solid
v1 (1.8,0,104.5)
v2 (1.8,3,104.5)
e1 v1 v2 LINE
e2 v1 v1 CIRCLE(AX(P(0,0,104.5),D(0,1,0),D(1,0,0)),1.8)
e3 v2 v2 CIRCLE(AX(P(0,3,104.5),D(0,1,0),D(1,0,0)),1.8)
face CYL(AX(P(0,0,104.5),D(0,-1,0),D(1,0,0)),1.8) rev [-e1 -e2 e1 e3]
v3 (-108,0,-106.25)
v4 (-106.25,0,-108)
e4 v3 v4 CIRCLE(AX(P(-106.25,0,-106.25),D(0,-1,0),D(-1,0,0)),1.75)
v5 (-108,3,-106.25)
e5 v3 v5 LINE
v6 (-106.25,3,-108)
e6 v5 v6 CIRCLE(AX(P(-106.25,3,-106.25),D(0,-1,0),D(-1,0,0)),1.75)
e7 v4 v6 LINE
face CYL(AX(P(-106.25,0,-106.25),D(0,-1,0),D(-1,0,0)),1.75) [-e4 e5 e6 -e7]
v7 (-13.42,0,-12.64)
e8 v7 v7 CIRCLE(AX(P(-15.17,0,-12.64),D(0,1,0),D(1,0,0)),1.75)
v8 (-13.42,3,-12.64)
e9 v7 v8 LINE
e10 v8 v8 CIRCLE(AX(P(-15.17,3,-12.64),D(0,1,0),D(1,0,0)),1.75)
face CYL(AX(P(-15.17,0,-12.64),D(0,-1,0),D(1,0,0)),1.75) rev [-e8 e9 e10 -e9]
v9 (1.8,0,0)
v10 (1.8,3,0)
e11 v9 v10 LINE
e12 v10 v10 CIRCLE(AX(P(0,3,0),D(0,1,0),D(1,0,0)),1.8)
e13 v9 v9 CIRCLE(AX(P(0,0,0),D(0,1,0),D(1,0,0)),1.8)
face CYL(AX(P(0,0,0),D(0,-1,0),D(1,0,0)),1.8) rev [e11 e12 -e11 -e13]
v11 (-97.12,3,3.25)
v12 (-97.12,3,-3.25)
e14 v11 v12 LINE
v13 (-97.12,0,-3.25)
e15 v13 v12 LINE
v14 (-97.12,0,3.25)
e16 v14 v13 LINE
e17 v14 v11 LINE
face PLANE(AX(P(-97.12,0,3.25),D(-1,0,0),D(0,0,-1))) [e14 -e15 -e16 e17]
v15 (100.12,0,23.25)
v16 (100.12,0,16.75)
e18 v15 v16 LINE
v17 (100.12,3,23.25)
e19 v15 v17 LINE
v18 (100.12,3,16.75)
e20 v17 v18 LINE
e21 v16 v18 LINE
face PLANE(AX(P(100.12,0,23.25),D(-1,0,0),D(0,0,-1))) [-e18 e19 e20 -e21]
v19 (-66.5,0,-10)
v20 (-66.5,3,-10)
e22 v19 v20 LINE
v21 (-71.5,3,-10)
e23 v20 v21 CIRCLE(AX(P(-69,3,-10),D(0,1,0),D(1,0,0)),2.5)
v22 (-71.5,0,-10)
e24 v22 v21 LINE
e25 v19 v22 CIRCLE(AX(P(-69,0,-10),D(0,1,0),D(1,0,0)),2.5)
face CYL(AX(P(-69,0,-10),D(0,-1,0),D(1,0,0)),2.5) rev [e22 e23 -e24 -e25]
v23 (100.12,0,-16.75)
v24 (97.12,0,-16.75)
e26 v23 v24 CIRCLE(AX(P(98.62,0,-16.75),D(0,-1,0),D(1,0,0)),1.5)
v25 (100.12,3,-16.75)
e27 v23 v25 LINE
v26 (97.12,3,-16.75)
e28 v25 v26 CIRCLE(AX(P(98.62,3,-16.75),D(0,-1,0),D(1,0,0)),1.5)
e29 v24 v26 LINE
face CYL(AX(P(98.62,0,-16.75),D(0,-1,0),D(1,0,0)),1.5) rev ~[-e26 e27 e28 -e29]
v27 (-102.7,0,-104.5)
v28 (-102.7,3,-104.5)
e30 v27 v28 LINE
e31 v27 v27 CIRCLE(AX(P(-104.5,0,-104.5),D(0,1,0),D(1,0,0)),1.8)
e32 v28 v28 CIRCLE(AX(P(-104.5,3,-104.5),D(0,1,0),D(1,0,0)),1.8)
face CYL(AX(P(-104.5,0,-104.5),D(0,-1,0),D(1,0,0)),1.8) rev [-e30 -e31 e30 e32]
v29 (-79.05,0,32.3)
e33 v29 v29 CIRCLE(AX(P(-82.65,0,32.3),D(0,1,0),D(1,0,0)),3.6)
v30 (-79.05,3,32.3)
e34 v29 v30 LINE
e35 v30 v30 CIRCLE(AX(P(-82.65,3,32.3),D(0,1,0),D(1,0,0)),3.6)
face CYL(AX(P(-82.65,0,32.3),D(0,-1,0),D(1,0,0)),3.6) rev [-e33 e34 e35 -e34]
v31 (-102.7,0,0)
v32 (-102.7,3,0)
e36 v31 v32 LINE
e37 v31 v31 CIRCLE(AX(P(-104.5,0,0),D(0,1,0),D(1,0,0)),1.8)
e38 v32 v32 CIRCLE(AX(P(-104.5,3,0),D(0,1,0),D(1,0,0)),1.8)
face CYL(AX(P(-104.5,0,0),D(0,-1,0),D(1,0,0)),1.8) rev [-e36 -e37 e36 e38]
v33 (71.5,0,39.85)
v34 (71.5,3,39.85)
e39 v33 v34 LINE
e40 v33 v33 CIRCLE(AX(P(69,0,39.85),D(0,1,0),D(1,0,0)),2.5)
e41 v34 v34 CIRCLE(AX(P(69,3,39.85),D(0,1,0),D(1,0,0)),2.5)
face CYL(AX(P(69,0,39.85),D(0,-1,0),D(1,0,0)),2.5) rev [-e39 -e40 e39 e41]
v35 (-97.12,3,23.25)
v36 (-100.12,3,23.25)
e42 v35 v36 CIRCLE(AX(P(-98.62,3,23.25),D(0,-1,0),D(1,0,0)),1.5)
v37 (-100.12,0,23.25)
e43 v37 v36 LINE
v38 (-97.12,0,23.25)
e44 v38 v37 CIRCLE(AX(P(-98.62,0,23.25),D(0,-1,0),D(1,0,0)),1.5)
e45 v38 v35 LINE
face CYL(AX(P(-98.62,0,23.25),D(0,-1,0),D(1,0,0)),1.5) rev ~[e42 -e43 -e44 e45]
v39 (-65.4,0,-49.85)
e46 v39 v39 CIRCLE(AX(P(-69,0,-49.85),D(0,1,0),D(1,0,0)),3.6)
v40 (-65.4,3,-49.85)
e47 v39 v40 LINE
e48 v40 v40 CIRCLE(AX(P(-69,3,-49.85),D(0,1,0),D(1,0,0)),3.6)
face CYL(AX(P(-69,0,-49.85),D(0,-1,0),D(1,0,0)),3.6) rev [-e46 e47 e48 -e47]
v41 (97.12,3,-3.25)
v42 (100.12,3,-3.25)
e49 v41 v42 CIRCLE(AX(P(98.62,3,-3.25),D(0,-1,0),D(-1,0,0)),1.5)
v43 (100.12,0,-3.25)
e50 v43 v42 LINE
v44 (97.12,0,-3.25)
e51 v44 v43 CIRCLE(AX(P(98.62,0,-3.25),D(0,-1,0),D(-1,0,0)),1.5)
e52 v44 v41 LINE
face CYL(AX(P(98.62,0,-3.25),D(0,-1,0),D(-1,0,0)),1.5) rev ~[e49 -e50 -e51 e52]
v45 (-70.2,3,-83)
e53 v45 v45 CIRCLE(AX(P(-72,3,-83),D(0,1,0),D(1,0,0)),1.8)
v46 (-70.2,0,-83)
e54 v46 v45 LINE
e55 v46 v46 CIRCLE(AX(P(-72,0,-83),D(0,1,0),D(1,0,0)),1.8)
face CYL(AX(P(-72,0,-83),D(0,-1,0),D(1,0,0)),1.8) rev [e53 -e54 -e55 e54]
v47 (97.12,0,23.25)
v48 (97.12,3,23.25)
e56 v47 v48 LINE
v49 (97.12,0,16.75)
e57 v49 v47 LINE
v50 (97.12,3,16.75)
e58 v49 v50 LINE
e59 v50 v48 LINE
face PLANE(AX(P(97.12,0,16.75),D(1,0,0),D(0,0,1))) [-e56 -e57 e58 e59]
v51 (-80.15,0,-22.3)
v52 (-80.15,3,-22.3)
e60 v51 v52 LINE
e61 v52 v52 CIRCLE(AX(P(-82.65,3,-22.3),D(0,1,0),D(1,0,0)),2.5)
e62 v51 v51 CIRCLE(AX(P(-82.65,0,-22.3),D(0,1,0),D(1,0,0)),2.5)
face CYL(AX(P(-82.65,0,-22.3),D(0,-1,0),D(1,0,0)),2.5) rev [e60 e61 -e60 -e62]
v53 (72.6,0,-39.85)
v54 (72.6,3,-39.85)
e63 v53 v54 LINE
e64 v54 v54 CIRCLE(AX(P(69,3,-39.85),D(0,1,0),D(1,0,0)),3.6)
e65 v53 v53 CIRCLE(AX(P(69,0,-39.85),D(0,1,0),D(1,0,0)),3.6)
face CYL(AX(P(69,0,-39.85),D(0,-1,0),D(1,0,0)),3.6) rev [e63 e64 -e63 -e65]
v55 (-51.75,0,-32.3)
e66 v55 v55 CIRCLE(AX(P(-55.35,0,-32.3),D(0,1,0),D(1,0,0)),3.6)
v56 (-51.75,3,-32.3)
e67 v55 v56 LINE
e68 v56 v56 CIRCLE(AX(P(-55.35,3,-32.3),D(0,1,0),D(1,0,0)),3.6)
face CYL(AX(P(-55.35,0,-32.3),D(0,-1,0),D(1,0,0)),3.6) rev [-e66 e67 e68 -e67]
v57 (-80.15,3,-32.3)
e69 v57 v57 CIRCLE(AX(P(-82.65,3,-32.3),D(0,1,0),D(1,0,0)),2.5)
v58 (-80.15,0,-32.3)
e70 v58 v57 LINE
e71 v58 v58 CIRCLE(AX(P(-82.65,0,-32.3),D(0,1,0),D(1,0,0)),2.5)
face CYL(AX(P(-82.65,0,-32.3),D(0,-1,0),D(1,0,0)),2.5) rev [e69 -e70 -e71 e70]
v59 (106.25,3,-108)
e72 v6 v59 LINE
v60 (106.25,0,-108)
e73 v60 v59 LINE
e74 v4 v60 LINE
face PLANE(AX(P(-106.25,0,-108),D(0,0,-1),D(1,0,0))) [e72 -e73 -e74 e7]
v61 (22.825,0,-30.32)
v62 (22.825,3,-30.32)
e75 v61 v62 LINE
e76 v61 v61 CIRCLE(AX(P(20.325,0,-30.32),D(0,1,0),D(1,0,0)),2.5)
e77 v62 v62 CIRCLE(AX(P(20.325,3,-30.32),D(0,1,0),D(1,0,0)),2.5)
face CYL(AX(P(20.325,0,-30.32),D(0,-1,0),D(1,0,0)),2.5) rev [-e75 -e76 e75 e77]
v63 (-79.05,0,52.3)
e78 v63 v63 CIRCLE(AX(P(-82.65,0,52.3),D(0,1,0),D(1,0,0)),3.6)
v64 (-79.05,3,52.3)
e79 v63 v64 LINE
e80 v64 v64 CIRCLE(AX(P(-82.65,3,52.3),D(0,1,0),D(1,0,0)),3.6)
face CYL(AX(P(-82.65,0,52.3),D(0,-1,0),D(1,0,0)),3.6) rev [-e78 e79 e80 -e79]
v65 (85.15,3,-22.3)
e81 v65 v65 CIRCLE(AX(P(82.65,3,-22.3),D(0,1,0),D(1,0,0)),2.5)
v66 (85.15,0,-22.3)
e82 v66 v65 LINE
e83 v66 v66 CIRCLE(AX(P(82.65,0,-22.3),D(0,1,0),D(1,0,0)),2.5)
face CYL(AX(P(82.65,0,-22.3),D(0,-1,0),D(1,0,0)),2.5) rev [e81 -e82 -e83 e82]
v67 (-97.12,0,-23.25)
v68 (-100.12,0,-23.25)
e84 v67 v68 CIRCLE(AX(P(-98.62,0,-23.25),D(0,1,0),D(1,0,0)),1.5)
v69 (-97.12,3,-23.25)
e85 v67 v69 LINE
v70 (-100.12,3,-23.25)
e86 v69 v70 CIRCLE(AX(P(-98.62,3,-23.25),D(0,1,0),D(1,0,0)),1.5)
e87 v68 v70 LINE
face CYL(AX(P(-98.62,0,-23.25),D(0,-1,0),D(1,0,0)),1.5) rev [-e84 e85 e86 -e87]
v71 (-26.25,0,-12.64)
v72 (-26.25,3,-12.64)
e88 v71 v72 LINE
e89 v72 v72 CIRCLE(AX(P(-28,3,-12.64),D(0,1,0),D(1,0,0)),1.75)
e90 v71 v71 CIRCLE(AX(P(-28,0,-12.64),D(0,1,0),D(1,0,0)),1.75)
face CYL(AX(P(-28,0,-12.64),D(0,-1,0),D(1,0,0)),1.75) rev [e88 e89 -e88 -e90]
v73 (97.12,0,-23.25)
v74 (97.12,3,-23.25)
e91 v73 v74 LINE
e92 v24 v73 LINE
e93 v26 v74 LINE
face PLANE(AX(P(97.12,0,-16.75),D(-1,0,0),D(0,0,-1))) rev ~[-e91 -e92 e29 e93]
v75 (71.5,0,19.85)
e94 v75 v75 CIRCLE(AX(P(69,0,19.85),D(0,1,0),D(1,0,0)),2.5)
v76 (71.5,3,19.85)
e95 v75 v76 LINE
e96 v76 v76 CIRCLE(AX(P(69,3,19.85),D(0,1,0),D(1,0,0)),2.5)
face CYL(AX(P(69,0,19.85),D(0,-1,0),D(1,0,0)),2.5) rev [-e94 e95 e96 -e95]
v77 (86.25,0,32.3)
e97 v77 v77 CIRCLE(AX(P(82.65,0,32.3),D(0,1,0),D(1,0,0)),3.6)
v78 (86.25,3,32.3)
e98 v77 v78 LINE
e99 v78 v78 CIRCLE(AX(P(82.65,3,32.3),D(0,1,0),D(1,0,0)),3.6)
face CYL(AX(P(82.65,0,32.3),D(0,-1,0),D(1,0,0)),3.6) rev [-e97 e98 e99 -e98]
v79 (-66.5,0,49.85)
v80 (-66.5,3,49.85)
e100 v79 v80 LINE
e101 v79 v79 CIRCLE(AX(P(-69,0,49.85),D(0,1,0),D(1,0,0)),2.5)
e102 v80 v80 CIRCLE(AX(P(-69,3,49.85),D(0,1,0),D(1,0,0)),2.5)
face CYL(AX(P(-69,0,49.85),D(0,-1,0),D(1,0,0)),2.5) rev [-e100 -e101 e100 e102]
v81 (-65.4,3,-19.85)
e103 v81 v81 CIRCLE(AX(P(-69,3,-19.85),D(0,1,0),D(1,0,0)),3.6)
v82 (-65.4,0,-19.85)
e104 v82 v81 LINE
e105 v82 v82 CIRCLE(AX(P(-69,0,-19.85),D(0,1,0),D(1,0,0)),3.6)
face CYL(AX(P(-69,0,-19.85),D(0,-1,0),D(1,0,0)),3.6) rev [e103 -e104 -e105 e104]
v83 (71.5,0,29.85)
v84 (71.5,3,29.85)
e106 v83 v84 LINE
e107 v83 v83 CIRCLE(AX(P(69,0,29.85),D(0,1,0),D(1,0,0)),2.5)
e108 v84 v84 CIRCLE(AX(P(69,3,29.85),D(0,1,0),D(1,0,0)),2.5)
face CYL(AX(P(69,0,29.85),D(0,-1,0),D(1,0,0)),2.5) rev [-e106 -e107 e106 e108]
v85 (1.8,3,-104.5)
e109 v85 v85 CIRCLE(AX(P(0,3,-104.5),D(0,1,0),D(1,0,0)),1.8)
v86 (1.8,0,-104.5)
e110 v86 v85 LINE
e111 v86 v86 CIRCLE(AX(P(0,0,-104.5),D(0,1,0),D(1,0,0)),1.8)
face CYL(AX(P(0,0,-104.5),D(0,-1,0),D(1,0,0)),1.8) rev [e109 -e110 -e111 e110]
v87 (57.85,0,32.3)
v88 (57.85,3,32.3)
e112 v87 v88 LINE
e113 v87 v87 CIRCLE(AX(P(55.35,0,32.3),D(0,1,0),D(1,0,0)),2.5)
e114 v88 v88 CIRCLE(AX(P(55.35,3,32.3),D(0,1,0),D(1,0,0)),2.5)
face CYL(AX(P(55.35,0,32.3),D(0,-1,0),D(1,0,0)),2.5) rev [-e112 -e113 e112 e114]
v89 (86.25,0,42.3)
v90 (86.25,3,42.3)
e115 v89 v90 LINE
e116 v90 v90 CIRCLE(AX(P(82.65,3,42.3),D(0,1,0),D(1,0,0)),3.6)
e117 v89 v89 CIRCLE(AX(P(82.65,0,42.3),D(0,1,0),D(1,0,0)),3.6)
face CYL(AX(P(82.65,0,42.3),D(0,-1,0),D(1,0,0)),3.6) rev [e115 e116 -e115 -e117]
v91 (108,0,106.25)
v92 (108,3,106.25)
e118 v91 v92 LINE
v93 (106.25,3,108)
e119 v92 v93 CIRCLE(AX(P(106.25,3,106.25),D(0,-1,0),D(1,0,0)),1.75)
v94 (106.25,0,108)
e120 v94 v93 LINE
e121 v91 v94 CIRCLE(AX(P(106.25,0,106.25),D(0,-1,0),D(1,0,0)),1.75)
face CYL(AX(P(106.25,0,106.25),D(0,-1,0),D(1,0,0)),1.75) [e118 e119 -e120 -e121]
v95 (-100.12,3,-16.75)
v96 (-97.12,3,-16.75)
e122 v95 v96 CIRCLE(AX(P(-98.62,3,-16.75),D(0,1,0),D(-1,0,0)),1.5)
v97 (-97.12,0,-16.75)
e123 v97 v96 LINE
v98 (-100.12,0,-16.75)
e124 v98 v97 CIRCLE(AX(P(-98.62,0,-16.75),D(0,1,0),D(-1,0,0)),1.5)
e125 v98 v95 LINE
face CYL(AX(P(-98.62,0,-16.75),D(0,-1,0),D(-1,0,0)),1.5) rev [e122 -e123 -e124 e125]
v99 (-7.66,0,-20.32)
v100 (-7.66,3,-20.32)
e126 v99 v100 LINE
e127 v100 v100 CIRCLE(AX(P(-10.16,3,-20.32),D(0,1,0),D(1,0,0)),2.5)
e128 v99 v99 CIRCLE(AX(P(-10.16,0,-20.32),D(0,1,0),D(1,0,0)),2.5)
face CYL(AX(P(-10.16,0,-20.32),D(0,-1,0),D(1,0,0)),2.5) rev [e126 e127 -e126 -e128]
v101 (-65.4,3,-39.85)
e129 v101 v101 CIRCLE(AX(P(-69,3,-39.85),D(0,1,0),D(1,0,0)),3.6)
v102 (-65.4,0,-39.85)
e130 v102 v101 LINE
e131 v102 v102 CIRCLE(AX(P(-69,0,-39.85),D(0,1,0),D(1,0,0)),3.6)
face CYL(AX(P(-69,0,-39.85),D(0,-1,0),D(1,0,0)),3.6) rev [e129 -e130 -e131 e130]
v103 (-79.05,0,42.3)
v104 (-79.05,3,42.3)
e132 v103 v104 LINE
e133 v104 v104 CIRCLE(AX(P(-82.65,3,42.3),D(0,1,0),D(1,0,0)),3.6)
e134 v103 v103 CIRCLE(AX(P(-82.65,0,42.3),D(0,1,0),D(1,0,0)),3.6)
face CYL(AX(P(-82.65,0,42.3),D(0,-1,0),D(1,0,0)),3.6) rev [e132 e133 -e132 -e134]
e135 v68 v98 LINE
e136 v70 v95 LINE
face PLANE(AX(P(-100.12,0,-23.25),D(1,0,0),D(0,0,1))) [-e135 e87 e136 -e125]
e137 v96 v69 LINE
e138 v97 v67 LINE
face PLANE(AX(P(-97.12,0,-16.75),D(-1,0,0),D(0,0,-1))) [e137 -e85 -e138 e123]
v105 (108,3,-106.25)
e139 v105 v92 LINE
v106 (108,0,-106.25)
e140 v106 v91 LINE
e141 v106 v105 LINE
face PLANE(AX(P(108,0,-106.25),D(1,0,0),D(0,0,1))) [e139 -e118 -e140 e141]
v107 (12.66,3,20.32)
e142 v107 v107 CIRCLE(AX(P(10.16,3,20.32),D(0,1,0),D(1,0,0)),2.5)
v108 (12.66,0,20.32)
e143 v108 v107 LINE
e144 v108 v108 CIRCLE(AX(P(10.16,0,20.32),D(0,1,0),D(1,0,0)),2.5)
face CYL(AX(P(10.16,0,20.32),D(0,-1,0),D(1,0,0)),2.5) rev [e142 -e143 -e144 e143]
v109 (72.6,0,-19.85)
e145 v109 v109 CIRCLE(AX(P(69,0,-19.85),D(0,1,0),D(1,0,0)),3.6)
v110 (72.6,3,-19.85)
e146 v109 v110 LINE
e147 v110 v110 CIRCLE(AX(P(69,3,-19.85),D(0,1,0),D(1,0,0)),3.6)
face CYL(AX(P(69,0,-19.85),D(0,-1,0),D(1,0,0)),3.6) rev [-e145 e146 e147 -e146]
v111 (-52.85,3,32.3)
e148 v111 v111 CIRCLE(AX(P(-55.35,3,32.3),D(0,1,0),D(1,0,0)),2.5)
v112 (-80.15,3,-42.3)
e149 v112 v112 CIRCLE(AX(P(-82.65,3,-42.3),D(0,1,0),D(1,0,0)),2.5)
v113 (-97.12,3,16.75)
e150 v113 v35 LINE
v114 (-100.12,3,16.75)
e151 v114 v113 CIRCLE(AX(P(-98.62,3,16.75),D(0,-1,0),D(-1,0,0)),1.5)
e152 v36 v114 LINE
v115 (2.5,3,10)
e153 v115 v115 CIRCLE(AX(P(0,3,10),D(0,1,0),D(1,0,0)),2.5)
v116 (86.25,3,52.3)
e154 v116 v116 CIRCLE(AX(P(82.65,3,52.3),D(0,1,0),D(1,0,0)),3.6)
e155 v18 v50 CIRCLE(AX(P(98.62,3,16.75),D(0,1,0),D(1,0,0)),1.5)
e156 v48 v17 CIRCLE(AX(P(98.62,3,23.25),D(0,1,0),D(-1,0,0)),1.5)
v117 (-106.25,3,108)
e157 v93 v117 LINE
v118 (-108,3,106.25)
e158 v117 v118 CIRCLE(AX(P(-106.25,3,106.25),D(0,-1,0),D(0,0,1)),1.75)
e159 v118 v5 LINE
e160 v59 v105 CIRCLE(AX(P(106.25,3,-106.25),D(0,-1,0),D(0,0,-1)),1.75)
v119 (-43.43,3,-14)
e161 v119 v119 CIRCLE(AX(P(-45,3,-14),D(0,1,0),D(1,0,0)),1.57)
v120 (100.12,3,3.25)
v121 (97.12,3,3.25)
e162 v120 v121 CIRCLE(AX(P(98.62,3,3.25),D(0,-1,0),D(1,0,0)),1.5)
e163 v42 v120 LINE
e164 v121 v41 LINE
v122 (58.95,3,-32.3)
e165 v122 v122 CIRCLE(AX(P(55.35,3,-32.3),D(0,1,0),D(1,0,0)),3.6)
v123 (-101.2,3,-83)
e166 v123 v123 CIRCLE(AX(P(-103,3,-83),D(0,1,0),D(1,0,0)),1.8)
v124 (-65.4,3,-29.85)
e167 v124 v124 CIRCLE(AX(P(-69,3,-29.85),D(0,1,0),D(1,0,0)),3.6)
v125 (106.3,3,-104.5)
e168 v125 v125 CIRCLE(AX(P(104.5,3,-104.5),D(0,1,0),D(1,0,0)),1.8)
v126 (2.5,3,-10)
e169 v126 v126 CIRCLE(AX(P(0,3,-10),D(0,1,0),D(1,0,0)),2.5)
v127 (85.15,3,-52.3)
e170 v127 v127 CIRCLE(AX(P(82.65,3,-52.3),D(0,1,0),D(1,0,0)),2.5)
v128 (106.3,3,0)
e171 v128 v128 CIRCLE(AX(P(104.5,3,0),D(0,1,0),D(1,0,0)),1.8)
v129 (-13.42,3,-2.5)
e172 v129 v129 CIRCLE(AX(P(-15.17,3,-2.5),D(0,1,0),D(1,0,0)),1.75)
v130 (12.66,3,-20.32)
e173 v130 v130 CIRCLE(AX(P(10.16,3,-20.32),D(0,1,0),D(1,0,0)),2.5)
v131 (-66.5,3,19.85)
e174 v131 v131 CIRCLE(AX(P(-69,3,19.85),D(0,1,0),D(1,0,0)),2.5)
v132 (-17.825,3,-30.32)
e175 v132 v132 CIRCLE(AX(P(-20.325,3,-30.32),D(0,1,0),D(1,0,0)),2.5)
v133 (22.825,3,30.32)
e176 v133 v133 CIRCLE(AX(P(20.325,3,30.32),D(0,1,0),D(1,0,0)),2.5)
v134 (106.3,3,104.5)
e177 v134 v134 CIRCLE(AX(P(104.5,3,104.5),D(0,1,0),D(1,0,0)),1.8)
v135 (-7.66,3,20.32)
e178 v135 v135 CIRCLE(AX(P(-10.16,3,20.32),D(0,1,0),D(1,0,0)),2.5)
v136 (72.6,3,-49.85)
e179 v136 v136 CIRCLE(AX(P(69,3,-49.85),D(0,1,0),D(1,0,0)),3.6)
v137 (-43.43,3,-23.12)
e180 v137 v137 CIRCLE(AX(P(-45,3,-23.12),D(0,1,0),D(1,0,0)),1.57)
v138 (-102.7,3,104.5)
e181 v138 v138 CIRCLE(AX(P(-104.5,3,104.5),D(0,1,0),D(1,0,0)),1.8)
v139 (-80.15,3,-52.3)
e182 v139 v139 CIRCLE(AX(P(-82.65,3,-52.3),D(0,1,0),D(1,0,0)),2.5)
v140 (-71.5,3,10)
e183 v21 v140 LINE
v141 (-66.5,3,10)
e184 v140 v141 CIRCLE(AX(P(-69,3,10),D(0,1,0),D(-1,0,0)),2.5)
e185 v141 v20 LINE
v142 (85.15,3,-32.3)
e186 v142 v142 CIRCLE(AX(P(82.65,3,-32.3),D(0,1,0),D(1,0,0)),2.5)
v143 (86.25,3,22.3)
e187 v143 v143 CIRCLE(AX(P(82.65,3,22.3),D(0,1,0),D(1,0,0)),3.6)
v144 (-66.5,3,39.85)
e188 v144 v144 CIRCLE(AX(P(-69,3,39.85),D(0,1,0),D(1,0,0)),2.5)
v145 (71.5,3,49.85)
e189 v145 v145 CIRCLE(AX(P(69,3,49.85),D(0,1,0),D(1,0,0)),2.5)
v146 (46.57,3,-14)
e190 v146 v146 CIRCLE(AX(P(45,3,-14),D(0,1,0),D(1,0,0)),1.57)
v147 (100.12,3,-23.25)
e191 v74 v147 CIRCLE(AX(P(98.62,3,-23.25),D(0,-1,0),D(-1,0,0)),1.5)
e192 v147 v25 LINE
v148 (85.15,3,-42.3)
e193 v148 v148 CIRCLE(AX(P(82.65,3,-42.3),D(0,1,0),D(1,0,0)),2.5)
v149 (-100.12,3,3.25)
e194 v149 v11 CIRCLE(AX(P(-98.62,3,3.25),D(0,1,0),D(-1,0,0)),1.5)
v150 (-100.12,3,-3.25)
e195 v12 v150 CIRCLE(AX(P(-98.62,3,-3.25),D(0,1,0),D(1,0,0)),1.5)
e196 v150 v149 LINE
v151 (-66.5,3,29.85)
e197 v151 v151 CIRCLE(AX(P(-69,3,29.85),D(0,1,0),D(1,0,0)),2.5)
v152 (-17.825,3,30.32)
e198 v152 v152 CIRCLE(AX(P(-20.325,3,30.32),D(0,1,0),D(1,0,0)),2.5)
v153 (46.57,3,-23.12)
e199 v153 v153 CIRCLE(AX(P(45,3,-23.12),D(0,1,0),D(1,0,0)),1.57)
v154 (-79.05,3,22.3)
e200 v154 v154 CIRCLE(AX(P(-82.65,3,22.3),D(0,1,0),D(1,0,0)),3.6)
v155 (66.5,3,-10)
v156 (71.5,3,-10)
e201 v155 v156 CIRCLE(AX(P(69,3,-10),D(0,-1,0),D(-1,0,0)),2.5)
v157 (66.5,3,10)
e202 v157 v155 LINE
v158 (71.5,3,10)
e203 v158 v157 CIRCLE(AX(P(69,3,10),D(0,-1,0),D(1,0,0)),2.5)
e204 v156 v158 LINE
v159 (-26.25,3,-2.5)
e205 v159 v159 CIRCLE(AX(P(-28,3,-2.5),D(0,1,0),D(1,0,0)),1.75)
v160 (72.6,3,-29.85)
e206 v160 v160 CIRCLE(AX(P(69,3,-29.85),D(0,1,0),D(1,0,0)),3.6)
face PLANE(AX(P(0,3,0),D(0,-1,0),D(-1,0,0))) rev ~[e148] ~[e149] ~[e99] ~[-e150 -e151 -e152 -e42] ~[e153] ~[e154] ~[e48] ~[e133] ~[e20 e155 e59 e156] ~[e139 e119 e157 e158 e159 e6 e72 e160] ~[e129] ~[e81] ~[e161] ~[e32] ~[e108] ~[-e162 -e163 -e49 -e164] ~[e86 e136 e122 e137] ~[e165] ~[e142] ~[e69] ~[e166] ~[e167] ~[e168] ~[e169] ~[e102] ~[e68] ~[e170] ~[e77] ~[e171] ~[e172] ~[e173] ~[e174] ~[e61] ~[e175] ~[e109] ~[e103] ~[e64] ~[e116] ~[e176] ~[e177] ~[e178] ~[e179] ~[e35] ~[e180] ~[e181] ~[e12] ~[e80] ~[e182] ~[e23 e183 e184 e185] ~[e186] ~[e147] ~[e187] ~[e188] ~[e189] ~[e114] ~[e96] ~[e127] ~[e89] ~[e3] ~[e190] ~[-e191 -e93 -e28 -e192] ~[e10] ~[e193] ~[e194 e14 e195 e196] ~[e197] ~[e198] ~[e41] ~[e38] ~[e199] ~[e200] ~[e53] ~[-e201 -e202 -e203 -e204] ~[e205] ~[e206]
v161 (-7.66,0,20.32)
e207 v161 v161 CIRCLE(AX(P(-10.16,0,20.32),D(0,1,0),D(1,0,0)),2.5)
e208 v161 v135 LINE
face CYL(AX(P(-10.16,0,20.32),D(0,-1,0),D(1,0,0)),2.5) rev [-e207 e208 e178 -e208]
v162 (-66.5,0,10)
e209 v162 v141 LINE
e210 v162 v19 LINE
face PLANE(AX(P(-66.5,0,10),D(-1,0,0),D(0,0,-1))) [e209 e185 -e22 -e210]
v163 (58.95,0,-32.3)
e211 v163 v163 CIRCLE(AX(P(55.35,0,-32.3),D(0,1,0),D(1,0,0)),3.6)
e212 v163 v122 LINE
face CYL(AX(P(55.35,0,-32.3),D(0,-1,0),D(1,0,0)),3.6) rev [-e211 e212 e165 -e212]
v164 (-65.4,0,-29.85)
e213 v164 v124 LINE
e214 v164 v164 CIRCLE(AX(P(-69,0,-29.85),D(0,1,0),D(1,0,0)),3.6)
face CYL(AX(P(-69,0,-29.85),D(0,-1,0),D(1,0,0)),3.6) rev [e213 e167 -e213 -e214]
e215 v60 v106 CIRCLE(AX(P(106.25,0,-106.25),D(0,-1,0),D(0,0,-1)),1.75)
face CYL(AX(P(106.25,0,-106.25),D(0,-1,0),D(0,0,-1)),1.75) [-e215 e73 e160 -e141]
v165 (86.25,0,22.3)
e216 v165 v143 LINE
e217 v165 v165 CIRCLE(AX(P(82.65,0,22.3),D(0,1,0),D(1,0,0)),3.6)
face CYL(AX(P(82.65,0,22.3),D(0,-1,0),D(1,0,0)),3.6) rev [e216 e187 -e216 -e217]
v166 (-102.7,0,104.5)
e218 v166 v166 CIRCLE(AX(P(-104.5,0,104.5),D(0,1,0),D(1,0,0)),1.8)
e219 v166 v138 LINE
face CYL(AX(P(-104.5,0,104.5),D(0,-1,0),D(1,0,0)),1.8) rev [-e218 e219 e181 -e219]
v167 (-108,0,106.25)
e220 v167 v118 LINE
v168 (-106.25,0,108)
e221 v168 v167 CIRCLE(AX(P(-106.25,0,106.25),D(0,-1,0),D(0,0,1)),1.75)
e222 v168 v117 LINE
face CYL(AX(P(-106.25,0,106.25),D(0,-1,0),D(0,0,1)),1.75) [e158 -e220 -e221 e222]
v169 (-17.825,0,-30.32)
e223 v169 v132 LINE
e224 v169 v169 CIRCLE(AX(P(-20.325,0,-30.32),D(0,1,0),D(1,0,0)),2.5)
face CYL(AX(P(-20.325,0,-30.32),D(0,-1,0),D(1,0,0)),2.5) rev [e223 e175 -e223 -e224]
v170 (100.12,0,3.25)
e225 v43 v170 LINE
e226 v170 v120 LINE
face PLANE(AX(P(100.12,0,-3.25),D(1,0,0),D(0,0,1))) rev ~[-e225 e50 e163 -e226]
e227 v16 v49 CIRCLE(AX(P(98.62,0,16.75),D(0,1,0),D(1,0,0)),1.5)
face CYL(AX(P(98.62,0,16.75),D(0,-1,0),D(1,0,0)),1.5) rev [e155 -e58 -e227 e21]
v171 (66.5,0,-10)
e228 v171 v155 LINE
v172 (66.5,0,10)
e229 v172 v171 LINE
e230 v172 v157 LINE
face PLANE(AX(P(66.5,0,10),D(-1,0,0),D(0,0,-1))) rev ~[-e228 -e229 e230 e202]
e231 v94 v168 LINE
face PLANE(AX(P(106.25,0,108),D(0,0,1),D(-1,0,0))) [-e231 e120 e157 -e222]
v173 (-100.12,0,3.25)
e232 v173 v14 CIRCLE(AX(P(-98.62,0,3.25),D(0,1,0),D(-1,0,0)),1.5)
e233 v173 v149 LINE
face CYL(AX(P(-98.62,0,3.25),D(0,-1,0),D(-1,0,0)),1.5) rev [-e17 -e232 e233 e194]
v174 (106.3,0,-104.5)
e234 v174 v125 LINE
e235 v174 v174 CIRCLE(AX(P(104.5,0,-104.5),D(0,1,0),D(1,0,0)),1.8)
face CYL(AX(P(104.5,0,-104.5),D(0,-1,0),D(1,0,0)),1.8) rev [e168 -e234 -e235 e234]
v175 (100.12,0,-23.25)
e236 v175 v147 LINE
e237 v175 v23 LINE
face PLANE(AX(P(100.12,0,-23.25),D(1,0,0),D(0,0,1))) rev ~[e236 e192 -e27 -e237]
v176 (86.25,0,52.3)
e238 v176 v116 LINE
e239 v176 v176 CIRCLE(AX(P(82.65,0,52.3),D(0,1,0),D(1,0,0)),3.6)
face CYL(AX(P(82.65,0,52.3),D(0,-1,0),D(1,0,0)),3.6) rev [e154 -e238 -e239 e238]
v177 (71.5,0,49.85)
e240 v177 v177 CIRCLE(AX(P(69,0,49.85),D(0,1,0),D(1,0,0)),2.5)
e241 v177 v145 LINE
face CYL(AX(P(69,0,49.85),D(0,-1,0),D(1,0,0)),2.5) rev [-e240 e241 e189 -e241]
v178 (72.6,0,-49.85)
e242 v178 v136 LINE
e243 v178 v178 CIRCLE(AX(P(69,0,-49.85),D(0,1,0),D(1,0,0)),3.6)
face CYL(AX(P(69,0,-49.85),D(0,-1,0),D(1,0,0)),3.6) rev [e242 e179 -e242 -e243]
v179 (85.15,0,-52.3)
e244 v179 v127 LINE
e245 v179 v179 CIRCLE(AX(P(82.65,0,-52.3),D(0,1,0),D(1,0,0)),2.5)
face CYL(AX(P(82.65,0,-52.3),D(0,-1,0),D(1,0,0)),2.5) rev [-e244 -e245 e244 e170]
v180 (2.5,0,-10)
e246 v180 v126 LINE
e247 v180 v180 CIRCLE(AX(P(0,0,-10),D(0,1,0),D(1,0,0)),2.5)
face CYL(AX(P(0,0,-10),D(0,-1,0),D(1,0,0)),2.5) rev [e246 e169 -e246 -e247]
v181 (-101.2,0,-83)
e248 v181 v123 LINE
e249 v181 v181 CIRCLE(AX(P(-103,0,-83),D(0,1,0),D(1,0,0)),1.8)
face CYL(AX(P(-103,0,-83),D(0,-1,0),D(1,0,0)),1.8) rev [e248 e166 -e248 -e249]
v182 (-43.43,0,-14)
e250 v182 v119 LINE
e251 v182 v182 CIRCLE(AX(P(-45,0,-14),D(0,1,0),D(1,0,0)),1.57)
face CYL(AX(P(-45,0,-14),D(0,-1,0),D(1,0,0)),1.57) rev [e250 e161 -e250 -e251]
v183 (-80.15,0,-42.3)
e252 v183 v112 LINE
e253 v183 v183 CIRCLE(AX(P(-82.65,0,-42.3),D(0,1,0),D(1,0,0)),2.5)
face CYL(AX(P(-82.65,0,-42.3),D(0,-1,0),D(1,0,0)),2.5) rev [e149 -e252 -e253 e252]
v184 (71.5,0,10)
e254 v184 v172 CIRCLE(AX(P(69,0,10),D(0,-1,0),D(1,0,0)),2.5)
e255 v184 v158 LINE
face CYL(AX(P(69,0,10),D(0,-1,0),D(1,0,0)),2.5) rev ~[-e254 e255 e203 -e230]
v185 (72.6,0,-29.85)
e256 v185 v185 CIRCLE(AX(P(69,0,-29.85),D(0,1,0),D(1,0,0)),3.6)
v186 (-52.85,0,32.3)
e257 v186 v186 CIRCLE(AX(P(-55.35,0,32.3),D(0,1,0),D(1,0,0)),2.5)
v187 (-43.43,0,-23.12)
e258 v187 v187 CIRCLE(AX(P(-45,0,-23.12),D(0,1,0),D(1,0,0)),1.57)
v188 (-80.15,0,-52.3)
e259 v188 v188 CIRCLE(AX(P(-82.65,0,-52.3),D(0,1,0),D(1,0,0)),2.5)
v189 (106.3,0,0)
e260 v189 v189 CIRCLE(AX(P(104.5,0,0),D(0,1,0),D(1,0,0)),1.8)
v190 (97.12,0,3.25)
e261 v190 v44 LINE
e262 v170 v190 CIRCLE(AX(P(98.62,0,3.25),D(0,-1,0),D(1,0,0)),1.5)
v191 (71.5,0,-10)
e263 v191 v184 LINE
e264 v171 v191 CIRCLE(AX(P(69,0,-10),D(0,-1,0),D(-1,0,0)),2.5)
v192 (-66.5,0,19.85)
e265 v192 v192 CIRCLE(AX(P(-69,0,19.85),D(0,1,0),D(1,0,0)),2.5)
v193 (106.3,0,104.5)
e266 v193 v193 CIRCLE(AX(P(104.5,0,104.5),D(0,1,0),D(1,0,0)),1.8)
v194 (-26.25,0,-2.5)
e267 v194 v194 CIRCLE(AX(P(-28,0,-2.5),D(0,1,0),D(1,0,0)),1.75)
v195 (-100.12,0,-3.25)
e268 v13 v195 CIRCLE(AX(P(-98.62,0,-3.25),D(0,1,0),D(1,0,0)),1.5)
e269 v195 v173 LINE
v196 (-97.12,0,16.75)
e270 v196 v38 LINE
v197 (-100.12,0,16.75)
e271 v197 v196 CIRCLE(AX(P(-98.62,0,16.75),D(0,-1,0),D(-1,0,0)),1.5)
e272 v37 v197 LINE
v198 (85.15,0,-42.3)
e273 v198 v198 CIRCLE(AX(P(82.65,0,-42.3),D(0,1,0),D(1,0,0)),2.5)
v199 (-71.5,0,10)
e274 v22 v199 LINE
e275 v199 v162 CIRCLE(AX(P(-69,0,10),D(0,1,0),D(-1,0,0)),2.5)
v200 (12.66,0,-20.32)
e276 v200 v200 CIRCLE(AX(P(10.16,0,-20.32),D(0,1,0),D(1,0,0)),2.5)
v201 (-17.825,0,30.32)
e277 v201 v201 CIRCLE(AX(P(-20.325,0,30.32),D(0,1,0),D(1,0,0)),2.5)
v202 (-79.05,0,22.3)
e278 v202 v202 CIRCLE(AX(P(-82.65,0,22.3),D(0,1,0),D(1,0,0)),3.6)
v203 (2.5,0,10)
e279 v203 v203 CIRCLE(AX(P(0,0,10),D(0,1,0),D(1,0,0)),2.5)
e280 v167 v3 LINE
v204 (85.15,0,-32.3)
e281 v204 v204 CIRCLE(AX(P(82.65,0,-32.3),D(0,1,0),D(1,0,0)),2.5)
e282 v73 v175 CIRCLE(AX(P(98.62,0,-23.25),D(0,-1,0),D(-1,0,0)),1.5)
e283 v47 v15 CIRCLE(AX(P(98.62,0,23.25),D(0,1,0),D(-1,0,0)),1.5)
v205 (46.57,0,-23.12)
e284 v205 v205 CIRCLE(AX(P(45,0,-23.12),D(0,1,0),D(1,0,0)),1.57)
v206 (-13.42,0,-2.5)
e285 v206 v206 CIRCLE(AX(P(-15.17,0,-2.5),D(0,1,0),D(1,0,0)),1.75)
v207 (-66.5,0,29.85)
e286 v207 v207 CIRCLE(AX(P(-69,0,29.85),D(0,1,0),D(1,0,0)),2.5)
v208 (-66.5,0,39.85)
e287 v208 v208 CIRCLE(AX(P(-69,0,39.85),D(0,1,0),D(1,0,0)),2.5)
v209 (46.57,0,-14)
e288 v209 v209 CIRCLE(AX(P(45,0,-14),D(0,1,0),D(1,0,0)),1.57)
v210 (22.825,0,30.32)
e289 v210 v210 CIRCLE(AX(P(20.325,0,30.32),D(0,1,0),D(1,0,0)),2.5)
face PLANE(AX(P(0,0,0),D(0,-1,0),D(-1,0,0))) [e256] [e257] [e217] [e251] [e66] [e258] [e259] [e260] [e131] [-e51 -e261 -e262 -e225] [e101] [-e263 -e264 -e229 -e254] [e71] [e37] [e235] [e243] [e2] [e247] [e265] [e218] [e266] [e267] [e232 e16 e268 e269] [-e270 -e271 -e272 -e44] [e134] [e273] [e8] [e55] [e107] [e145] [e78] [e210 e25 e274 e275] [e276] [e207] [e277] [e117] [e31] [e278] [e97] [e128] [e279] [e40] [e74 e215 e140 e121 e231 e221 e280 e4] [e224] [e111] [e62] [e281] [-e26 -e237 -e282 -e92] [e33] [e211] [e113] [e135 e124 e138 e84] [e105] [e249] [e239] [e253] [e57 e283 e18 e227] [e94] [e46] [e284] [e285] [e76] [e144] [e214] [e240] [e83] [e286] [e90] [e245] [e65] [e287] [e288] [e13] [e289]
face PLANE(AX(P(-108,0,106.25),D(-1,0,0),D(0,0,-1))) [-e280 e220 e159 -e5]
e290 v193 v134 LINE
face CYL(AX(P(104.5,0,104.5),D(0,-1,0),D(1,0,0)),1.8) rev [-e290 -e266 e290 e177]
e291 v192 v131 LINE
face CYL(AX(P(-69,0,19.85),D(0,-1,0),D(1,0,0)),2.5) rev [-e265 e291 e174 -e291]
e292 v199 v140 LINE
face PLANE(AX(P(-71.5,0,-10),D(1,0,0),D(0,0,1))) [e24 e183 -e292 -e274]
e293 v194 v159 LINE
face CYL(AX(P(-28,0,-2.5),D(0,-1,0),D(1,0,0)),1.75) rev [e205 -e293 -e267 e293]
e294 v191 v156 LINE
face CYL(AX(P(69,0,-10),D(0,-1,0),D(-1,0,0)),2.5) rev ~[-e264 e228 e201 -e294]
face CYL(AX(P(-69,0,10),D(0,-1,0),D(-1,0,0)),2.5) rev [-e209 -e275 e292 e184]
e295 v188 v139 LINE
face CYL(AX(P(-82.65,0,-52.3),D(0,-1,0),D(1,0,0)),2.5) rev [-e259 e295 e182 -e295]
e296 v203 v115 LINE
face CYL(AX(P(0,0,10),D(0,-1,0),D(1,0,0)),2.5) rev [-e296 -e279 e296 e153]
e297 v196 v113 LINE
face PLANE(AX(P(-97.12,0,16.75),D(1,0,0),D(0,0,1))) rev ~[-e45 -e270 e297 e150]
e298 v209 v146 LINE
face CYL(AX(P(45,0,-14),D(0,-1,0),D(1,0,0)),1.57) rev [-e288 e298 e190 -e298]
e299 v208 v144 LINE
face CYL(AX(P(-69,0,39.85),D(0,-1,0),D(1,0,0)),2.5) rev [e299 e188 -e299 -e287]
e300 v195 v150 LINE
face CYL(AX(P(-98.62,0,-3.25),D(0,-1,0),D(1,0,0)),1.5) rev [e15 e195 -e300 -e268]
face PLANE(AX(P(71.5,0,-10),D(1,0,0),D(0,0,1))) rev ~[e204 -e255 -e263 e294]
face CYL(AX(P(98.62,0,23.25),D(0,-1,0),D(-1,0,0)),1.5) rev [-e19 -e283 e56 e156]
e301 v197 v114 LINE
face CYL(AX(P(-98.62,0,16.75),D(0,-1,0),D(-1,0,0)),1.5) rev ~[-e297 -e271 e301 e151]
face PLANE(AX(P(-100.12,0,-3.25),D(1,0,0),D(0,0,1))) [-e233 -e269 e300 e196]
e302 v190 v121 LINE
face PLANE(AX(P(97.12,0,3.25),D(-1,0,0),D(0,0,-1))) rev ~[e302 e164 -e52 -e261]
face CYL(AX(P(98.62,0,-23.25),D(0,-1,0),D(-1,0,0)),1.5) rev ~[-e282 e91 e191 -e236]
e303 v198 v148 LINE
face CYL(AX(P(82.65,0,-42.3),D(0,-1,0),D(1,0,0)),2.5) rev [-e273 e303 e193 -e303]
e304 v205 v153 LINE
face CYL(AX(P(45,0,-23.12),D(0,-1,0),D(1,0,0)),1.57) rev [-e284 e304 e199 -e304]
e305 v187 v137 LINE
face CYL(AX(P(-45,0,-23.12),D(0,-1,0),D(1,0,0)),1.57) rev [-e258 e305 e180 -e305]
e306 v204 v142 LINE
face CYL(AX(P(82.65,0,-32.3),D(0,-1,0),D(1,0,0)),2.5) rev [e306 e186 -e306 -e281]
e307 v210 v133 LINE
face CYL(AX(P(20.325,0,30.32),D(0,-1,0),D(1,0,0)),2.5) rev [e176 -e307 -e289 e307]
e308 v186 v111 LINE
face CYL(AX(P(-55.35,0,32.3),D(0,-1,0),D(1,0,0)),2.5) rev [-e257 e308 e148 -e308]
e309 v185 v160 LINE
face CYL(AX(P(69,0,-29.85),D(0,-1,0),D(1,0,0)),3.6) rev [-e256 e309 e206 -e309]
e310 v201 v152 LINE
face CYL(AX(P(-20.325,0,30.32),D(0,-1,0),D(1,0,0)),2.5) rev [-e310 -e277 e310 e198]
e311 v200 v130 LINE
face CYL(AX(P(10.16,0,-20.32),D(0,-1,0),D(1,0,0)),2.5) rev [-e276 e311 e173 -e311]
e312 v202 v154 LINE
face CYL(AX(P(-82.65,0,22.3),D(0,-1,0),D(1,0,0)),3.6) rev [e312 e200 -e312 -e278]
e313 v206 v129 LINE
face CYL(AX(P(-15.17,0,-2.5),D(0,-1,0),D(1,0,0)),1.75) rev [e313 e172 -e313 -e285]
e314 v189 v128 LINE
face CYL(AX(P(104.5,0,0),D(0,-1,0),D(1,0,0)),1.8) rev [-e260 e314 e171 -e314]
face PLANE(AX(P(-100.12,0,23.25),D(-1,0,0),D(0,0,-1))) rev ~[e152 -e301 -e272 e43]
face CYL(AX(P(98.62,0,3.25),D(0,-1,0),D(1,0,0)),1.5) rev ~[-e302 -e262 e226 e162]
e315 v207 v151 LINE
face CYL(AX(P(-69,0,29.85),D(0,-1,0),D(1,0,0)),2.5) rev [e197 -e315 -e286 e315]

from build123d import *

# Parameters (mm, degrees)
SKETCH1_R           = 1.8
SKETCH1_R_2         = 2.5
SKETCH1_R_3         = 1.57
SKETCH1_R_4         = 1.75
SKETCH1_R_5         = 3.6
BOSS_EXTRUDE1_DEPTH = 3


with BuildPart() as part:
    # Sketch1 → Boss-Extrude1 (new body)
    with BuildSketch(Plane(origin=(0, 0, 0), x_dir=(1, 0, 0), z_dir=(0, 1, 0))):
        with BuildLine():
            Line((106.25, -108), (-106.25, -108))
            ThreePointArc((-106.25, -108), (-107.487436867, -107.487436867), (-108, -106.25))
            Line((-108, -106.25), (-108, 106.25))
            ThreePointArc((-108, 106.25), (-107.487436867, 107.487436867), (-106.25, 108))
            Line((-106.25, 108), (106.25, 108))
            ThreePointArc((106.25, 108), (107.487436867, 107.487436867), (108, 106.25))
            Line((108, 106.25), (108, -106.25))
            ThreePointArc((108, -106.25), (107.487436867, -107.487436867), (106.25, -108))
        make_face()
        with Locations((0, 104.5)):
            Circle(SKETCH1_R, mode=Mode.SUBTRACT)
        with Locations((-104.5, 104.5)):
            Circle(SKETCH1_R, mode=Mode.SUBTRACT)
        with Locations((104.5, 104.5)):
            Circle(SKETCH1_R, mode=Mode.SUBTRACT)
        with Locations((104.5, -104.5)):
            Circle(SKETCH1_R, mode=Mode.SUBTRACT)
        with Locations((0, -104.5)):
            Circle(SKETCH1_R, mode=Mode.SUBTRACT)
        with Locations((-104.5, -104.5)):
            Circle(SKETCH1_R, mode=Mode.SUBTRACT)
        with Locations((104.5, 0)):
            Circle(SKETCH1_R, mode=Mode.SUBTRACT)
        with Locations((-104.5, 0)):
            Circle(SKETCH1_R, mode=Mode.SUBTRACT)
        Circle(SKETCH1_R, mode=Mode.SUBTRACT)
        with Locations((0, 10)):
            Circle(SKETCH1_R_2, mode=Mode.SUBTRACT)
        with Locations((-10.16, 20.32)):
            Circle(SKETCH1_R_2, mode=Mode.SUBTRACT)
        with Locations((-20.325, 30.32)):
            Circle(SKETCH1_R_2, mode=Mode.SUBTRACT)
        with Locations((20.325, 30.32)):
            Circle(SKETCH1_R_2, mode=Mode.SUBTRACT)
        with Locations((10.16, 20.32)):
            Circle(SKETCH1_R_2, mode=Mode.SUBTRACT)
        with Locations((-45, 23.12)):
            Circle(SKETCH1_R_3, mode=Mode.SUBTRACT)
        with Locations((-45, 14)):
            Circle(SKETCH1_R_3, mode=Mode.SUBTRACT)
        with Locations((-28, 12.64)):
            Circle(SKETCH1_R_4, mode=Mode.SUBTRACT)
        with Locations((-15.17, 12.64)):
            Circle(SKETCH1_R_4, mode=Mode.SUBTRACT)
        with Locations((-28, 2.5)):
            Circle(SKETCH1_R_4, mode=Mode.SUBTRACT)
        with Locations((-15.17, 2.5)):
            Circle(SKETCH1_R_4, mode=Mode.SUBTRACT)
        with Locations((20.325, -30.32)):
            Circle(SKETCH1_R_2, mode=Mode.SUBTRACT)
        with Locations((0, -10)):
            Circle(SKETCH1_R_2, mode=Mode.SUBTRACT)
        with Locations((10.16, -20.32)):
            Circle(SKETCH1_R_2, mode=Mode.SUBTRACT)
        with Locations((-10.16, -20.32)):
            Circle(SKETCH1_R_2, mode=Mode.SUBTRACT)
        with Locations((-20.325, -30.32)):
            Circle(SKETCH1_R_2, mode=Mode.SUBTRACT)
        with Locations((45, 14)):
            Circle(SKETCH1_R_3, mode=Mode.SUBTRACT)
        with Locations((45, 23.12)):
            Circle(SKETCH1_R_3, mode=Mode.SUBTRACT)
        with Locations((-82.65, -52.3)):
            Circle(SKETCH1_R_5, mode=Mode.SUBTRACT)
        with Locations((-82.65, -42.3)):
            Circle(SKETCH1_R_5, mode=Mode.SUBTRACT)
        with Locations((-82.65, -32.3)):
            Circle(SKETCH1_R_5, mode=Mode.SUBTRACT)
        with Locations((-82.65, -22.3)):
            Circle(SKETCH1_R_5, mode=Mode.SUBTRACT)
        with Locations((-82.65, 52.3)):
            Circle(SKETCH1_R_2, mode=Mode.SUBTRACT)
        with Locations((-82.65, 42.3)):
            Circle(SKETCH1_R_2, mode=Mode.SUBTRACT)
        with Locations((-82.65, 32.3)):
            Circle(SKETCH1_R_2, mode=Mode.SUBTRACT)
        with Locations((-82.65, 22.3)):
            Circle(SKETCH1_R_2, mode=Mode.SUBTRACT)
        with Locations((82.65, -42.3)):
            Circle(SKETCH1_R_5, mode=Mode.SUBTRACT)
        with Locations((82.65, -32.3)):
            Circle(SKETCH1_R_5, mode=Mode.SUBTRACT)
        with Locations((82.65, -22.3)):
            Circle(SKETCH1_R_5, mode=Mode.SUBTRACT)
        with Locations((82.65, 42.3)):
            Circle(SKETCH1_R_2, mode=Mode.SUBTRACT)
        with Locations((82.65, 32.3)):
            Circle(SKETCH1_R_2, mode=Mode.SUBTRACT)
        with Locations((82.65, 22.3)):
            Circle(SKETCH1_R_2, mode=Mode.SUBTRACT)
        with Locations((82.65, 52.3)):
            Circle(SKETCH1_R_2, mode=Mode.SUBTRACT)
        with Locations((82.65, -52.3)):
            Circle(SKETCH1_R_5, mode=Mode.SUBTRACT)
        with Locations((69, 49.85)):
            Circle(SKETCH1_R_5, mode=Mode.SUBTRACT)
        with Locations((69, -49.85)):
            Circle(SKETCH1_R_2, mode=Mode.SUBTRACT)
        with Locations((69, 39.85)):
            Circle(SKETCH1_R_5, mode=Mode.SUBTRACT)
        with Locations((69, 29.85)):
            Circle(SKETCH1_R_5, mode=Mode.SUBTRACT)
        with Locations((69, 19.85)):
            Circle(SKETCH1_R_5, mode=Mode.SUBTRACT)
        with Locations((69, -39.85)):
            Circle(SKETCH1_R_2, mode=Mode.SUBTRACT)
        with Locations((69, -29.85)):
            Circle(SKETCH1_R_2, mode=Mode.SUBTRACT)
        with Locations((69, -19.85)):
            Circle(SKETCH1_R_2, mode=Mode.SUBTRACT)
        with Locations((-69, 19.85)):
            Circle(SKETCH1_R_5, mode=Mode.SUBTRACT)
        with Locations((-69, 29.85)):
            Circle(SKETCH1_R_5, mode=Mode.SUBTRACT)
        with Locations((-69, 39.85)):
            Circle(SKETCH1_R_5, mode=Mode.SUBTRACT)
        with Locations((-69, -19.85)):
            Circle(SKETCH1_R_2, mode=Mode.SUBTRACT)
        with Locations((-69, -29.85)):
            Circle(SKETCH1_R_2, mode=Mode.SUBTRACT)
        with Locations((-69, -49.85)):
            Circle(SKETCH1_R_2, mode=Mode.SUBTRACT)
        with Locations((-69, 49.85)):
            Circle(SKETCH1_R_5, mode=Mode.SUBTRACT)
        with Locations((-69, -39.85)):
            Circle(SKETCH1_R_2, mode=Mode.SUBTRACT)
        with Locations((-55.35, 32.3)):
            Circle(SKETCH1_R_5, mode=Mode.SUBTRACT)
        with Locations((-55.35, -32.3)):
            Circle(SKETCH1_R_2, mode=Mode.SUBTRACT)
        with Locations((55.35, -32.3)):
            Circle(SKETCH1_R_2, mode=Mode.SUBTRACT)
        with Locations((55.35, 32.3)):
            Circle(SKETCH1_R_5, mode=Mode.SUBTRACT)
        with Locations((-103, 83)):
            Circle(SKETCH1_R, mode=Mode.SUBTRACT)
        with Locations((-72, 83)):
            Circle(SKETCH1_R, mode=Mode.SUBTRACT)
        with BuildLine():
            Line((66.5, -10), (66.5, 10))
            ThreePointArc((66.5, 10), (69, 12.5), (71.5, 10))
            Line((71.5, 10), (71.5, -10))
            ThreePointArc((71.5, -10), (69, -12.5), (66.5, -10))
        make_face(mode=Mode.SUBTRACT)
        with BuildLine():
            Line((97.12, -3.25), (97.12, 3.25))
            ThreePointArc((97.12, 3.25), (98.62, 4.75), (100.12, 3.25))
            Line((100.12, 3.25), (100.12, -3.25))
            ThreePointArc((100.12, -3.25), (98.62, -4.75), (97.12, -3.25))
        make_face(mode=Mode.SUBTRACT)
        with BuildLine():
            Line((97.12, 16.75), (97.12, 23.25))
            ThreePointArc((97.12, 23.25), (98.62, 24.75), (100.12, 23.25))
            Line((100.12, 23.25), (100.12, 16.75))
            ThreePointArc((100.12, 16.75), (98.62, 15.25), (97.12, 16.75))
        make_face(mode=Mode.SUBTRACT)
        with BuildLine():
            Line((97.12, -16.75), (97.12, -23.25))
            ThreePointArc((97.12, -23.25), (98.62, -24.75), (100.12, -23.25))
            Line((100.12, -23.25), (100.12, -16.75))
            ThreePointArc((100.12, -16.75), (98.62, -15.25), (97.12, -16.75))
        make_face(mode=Mode.SUBTRACT)
        with BuildLine():
            Line((-97.12, -16.75), (-97.12, -23.25))
            ThreePointArc((-97.12, -23.25), (-98.62, -24.75), (-100.12, -23.25))
            Line((-100.12, -23.25), (-100.12, -16.75))
            ThreePointArc((-100.12, -16.75), (-98.62, -15.25), (-97.12, -16.75))
        make_face(mode=Mode.SUBTRACT)
        with BuildLine():
            Line((-97.12, -3.25), (-97.12, 3.25))
            ThreePointArc((-97.12, 3.25), (-98.62, 4.75), (-100.12, 3.25))
            Line((-100.12, 3.25), (-100.12, -3.25))
            ThreePointArc((-100.12, -3.25), (-98.62, -4.75), (-97.12, -3.25))
        make_face(mode=Mode.SUBTRACT)
        with BuildLine():
            Line((-97.12, 16.75), (-97.12, 23.25))
            ThreePointArc((-97.12, 23.25), (-98.62, 24.75), (-100.12, 23.25))
            Line((-100.12, 23.25), (-100.12, 16.75))
            ThreePointArc((-100.12, 16.75), (-98.62, 15.25), (-97.12, 16.75))
        make_face(mode=Mode.SUBTRACT)
        with BuildLine():
            Line((-66.5, -10), (-66.5, 10))
            ThreePointArc((-66.5, 10), (-69, 12.5), (-71.5, 10))
            Line((-71.5, 10), (-71.5, -10))
            ThreePointArc((-71.5, -10), (-69, -12.5), (-66.5, -10))
        make_face(mode=Mode.SUBTRACT)
    extrude(amount=BOSS_EXTRUDE1_DEPTH)


solid = part.part
